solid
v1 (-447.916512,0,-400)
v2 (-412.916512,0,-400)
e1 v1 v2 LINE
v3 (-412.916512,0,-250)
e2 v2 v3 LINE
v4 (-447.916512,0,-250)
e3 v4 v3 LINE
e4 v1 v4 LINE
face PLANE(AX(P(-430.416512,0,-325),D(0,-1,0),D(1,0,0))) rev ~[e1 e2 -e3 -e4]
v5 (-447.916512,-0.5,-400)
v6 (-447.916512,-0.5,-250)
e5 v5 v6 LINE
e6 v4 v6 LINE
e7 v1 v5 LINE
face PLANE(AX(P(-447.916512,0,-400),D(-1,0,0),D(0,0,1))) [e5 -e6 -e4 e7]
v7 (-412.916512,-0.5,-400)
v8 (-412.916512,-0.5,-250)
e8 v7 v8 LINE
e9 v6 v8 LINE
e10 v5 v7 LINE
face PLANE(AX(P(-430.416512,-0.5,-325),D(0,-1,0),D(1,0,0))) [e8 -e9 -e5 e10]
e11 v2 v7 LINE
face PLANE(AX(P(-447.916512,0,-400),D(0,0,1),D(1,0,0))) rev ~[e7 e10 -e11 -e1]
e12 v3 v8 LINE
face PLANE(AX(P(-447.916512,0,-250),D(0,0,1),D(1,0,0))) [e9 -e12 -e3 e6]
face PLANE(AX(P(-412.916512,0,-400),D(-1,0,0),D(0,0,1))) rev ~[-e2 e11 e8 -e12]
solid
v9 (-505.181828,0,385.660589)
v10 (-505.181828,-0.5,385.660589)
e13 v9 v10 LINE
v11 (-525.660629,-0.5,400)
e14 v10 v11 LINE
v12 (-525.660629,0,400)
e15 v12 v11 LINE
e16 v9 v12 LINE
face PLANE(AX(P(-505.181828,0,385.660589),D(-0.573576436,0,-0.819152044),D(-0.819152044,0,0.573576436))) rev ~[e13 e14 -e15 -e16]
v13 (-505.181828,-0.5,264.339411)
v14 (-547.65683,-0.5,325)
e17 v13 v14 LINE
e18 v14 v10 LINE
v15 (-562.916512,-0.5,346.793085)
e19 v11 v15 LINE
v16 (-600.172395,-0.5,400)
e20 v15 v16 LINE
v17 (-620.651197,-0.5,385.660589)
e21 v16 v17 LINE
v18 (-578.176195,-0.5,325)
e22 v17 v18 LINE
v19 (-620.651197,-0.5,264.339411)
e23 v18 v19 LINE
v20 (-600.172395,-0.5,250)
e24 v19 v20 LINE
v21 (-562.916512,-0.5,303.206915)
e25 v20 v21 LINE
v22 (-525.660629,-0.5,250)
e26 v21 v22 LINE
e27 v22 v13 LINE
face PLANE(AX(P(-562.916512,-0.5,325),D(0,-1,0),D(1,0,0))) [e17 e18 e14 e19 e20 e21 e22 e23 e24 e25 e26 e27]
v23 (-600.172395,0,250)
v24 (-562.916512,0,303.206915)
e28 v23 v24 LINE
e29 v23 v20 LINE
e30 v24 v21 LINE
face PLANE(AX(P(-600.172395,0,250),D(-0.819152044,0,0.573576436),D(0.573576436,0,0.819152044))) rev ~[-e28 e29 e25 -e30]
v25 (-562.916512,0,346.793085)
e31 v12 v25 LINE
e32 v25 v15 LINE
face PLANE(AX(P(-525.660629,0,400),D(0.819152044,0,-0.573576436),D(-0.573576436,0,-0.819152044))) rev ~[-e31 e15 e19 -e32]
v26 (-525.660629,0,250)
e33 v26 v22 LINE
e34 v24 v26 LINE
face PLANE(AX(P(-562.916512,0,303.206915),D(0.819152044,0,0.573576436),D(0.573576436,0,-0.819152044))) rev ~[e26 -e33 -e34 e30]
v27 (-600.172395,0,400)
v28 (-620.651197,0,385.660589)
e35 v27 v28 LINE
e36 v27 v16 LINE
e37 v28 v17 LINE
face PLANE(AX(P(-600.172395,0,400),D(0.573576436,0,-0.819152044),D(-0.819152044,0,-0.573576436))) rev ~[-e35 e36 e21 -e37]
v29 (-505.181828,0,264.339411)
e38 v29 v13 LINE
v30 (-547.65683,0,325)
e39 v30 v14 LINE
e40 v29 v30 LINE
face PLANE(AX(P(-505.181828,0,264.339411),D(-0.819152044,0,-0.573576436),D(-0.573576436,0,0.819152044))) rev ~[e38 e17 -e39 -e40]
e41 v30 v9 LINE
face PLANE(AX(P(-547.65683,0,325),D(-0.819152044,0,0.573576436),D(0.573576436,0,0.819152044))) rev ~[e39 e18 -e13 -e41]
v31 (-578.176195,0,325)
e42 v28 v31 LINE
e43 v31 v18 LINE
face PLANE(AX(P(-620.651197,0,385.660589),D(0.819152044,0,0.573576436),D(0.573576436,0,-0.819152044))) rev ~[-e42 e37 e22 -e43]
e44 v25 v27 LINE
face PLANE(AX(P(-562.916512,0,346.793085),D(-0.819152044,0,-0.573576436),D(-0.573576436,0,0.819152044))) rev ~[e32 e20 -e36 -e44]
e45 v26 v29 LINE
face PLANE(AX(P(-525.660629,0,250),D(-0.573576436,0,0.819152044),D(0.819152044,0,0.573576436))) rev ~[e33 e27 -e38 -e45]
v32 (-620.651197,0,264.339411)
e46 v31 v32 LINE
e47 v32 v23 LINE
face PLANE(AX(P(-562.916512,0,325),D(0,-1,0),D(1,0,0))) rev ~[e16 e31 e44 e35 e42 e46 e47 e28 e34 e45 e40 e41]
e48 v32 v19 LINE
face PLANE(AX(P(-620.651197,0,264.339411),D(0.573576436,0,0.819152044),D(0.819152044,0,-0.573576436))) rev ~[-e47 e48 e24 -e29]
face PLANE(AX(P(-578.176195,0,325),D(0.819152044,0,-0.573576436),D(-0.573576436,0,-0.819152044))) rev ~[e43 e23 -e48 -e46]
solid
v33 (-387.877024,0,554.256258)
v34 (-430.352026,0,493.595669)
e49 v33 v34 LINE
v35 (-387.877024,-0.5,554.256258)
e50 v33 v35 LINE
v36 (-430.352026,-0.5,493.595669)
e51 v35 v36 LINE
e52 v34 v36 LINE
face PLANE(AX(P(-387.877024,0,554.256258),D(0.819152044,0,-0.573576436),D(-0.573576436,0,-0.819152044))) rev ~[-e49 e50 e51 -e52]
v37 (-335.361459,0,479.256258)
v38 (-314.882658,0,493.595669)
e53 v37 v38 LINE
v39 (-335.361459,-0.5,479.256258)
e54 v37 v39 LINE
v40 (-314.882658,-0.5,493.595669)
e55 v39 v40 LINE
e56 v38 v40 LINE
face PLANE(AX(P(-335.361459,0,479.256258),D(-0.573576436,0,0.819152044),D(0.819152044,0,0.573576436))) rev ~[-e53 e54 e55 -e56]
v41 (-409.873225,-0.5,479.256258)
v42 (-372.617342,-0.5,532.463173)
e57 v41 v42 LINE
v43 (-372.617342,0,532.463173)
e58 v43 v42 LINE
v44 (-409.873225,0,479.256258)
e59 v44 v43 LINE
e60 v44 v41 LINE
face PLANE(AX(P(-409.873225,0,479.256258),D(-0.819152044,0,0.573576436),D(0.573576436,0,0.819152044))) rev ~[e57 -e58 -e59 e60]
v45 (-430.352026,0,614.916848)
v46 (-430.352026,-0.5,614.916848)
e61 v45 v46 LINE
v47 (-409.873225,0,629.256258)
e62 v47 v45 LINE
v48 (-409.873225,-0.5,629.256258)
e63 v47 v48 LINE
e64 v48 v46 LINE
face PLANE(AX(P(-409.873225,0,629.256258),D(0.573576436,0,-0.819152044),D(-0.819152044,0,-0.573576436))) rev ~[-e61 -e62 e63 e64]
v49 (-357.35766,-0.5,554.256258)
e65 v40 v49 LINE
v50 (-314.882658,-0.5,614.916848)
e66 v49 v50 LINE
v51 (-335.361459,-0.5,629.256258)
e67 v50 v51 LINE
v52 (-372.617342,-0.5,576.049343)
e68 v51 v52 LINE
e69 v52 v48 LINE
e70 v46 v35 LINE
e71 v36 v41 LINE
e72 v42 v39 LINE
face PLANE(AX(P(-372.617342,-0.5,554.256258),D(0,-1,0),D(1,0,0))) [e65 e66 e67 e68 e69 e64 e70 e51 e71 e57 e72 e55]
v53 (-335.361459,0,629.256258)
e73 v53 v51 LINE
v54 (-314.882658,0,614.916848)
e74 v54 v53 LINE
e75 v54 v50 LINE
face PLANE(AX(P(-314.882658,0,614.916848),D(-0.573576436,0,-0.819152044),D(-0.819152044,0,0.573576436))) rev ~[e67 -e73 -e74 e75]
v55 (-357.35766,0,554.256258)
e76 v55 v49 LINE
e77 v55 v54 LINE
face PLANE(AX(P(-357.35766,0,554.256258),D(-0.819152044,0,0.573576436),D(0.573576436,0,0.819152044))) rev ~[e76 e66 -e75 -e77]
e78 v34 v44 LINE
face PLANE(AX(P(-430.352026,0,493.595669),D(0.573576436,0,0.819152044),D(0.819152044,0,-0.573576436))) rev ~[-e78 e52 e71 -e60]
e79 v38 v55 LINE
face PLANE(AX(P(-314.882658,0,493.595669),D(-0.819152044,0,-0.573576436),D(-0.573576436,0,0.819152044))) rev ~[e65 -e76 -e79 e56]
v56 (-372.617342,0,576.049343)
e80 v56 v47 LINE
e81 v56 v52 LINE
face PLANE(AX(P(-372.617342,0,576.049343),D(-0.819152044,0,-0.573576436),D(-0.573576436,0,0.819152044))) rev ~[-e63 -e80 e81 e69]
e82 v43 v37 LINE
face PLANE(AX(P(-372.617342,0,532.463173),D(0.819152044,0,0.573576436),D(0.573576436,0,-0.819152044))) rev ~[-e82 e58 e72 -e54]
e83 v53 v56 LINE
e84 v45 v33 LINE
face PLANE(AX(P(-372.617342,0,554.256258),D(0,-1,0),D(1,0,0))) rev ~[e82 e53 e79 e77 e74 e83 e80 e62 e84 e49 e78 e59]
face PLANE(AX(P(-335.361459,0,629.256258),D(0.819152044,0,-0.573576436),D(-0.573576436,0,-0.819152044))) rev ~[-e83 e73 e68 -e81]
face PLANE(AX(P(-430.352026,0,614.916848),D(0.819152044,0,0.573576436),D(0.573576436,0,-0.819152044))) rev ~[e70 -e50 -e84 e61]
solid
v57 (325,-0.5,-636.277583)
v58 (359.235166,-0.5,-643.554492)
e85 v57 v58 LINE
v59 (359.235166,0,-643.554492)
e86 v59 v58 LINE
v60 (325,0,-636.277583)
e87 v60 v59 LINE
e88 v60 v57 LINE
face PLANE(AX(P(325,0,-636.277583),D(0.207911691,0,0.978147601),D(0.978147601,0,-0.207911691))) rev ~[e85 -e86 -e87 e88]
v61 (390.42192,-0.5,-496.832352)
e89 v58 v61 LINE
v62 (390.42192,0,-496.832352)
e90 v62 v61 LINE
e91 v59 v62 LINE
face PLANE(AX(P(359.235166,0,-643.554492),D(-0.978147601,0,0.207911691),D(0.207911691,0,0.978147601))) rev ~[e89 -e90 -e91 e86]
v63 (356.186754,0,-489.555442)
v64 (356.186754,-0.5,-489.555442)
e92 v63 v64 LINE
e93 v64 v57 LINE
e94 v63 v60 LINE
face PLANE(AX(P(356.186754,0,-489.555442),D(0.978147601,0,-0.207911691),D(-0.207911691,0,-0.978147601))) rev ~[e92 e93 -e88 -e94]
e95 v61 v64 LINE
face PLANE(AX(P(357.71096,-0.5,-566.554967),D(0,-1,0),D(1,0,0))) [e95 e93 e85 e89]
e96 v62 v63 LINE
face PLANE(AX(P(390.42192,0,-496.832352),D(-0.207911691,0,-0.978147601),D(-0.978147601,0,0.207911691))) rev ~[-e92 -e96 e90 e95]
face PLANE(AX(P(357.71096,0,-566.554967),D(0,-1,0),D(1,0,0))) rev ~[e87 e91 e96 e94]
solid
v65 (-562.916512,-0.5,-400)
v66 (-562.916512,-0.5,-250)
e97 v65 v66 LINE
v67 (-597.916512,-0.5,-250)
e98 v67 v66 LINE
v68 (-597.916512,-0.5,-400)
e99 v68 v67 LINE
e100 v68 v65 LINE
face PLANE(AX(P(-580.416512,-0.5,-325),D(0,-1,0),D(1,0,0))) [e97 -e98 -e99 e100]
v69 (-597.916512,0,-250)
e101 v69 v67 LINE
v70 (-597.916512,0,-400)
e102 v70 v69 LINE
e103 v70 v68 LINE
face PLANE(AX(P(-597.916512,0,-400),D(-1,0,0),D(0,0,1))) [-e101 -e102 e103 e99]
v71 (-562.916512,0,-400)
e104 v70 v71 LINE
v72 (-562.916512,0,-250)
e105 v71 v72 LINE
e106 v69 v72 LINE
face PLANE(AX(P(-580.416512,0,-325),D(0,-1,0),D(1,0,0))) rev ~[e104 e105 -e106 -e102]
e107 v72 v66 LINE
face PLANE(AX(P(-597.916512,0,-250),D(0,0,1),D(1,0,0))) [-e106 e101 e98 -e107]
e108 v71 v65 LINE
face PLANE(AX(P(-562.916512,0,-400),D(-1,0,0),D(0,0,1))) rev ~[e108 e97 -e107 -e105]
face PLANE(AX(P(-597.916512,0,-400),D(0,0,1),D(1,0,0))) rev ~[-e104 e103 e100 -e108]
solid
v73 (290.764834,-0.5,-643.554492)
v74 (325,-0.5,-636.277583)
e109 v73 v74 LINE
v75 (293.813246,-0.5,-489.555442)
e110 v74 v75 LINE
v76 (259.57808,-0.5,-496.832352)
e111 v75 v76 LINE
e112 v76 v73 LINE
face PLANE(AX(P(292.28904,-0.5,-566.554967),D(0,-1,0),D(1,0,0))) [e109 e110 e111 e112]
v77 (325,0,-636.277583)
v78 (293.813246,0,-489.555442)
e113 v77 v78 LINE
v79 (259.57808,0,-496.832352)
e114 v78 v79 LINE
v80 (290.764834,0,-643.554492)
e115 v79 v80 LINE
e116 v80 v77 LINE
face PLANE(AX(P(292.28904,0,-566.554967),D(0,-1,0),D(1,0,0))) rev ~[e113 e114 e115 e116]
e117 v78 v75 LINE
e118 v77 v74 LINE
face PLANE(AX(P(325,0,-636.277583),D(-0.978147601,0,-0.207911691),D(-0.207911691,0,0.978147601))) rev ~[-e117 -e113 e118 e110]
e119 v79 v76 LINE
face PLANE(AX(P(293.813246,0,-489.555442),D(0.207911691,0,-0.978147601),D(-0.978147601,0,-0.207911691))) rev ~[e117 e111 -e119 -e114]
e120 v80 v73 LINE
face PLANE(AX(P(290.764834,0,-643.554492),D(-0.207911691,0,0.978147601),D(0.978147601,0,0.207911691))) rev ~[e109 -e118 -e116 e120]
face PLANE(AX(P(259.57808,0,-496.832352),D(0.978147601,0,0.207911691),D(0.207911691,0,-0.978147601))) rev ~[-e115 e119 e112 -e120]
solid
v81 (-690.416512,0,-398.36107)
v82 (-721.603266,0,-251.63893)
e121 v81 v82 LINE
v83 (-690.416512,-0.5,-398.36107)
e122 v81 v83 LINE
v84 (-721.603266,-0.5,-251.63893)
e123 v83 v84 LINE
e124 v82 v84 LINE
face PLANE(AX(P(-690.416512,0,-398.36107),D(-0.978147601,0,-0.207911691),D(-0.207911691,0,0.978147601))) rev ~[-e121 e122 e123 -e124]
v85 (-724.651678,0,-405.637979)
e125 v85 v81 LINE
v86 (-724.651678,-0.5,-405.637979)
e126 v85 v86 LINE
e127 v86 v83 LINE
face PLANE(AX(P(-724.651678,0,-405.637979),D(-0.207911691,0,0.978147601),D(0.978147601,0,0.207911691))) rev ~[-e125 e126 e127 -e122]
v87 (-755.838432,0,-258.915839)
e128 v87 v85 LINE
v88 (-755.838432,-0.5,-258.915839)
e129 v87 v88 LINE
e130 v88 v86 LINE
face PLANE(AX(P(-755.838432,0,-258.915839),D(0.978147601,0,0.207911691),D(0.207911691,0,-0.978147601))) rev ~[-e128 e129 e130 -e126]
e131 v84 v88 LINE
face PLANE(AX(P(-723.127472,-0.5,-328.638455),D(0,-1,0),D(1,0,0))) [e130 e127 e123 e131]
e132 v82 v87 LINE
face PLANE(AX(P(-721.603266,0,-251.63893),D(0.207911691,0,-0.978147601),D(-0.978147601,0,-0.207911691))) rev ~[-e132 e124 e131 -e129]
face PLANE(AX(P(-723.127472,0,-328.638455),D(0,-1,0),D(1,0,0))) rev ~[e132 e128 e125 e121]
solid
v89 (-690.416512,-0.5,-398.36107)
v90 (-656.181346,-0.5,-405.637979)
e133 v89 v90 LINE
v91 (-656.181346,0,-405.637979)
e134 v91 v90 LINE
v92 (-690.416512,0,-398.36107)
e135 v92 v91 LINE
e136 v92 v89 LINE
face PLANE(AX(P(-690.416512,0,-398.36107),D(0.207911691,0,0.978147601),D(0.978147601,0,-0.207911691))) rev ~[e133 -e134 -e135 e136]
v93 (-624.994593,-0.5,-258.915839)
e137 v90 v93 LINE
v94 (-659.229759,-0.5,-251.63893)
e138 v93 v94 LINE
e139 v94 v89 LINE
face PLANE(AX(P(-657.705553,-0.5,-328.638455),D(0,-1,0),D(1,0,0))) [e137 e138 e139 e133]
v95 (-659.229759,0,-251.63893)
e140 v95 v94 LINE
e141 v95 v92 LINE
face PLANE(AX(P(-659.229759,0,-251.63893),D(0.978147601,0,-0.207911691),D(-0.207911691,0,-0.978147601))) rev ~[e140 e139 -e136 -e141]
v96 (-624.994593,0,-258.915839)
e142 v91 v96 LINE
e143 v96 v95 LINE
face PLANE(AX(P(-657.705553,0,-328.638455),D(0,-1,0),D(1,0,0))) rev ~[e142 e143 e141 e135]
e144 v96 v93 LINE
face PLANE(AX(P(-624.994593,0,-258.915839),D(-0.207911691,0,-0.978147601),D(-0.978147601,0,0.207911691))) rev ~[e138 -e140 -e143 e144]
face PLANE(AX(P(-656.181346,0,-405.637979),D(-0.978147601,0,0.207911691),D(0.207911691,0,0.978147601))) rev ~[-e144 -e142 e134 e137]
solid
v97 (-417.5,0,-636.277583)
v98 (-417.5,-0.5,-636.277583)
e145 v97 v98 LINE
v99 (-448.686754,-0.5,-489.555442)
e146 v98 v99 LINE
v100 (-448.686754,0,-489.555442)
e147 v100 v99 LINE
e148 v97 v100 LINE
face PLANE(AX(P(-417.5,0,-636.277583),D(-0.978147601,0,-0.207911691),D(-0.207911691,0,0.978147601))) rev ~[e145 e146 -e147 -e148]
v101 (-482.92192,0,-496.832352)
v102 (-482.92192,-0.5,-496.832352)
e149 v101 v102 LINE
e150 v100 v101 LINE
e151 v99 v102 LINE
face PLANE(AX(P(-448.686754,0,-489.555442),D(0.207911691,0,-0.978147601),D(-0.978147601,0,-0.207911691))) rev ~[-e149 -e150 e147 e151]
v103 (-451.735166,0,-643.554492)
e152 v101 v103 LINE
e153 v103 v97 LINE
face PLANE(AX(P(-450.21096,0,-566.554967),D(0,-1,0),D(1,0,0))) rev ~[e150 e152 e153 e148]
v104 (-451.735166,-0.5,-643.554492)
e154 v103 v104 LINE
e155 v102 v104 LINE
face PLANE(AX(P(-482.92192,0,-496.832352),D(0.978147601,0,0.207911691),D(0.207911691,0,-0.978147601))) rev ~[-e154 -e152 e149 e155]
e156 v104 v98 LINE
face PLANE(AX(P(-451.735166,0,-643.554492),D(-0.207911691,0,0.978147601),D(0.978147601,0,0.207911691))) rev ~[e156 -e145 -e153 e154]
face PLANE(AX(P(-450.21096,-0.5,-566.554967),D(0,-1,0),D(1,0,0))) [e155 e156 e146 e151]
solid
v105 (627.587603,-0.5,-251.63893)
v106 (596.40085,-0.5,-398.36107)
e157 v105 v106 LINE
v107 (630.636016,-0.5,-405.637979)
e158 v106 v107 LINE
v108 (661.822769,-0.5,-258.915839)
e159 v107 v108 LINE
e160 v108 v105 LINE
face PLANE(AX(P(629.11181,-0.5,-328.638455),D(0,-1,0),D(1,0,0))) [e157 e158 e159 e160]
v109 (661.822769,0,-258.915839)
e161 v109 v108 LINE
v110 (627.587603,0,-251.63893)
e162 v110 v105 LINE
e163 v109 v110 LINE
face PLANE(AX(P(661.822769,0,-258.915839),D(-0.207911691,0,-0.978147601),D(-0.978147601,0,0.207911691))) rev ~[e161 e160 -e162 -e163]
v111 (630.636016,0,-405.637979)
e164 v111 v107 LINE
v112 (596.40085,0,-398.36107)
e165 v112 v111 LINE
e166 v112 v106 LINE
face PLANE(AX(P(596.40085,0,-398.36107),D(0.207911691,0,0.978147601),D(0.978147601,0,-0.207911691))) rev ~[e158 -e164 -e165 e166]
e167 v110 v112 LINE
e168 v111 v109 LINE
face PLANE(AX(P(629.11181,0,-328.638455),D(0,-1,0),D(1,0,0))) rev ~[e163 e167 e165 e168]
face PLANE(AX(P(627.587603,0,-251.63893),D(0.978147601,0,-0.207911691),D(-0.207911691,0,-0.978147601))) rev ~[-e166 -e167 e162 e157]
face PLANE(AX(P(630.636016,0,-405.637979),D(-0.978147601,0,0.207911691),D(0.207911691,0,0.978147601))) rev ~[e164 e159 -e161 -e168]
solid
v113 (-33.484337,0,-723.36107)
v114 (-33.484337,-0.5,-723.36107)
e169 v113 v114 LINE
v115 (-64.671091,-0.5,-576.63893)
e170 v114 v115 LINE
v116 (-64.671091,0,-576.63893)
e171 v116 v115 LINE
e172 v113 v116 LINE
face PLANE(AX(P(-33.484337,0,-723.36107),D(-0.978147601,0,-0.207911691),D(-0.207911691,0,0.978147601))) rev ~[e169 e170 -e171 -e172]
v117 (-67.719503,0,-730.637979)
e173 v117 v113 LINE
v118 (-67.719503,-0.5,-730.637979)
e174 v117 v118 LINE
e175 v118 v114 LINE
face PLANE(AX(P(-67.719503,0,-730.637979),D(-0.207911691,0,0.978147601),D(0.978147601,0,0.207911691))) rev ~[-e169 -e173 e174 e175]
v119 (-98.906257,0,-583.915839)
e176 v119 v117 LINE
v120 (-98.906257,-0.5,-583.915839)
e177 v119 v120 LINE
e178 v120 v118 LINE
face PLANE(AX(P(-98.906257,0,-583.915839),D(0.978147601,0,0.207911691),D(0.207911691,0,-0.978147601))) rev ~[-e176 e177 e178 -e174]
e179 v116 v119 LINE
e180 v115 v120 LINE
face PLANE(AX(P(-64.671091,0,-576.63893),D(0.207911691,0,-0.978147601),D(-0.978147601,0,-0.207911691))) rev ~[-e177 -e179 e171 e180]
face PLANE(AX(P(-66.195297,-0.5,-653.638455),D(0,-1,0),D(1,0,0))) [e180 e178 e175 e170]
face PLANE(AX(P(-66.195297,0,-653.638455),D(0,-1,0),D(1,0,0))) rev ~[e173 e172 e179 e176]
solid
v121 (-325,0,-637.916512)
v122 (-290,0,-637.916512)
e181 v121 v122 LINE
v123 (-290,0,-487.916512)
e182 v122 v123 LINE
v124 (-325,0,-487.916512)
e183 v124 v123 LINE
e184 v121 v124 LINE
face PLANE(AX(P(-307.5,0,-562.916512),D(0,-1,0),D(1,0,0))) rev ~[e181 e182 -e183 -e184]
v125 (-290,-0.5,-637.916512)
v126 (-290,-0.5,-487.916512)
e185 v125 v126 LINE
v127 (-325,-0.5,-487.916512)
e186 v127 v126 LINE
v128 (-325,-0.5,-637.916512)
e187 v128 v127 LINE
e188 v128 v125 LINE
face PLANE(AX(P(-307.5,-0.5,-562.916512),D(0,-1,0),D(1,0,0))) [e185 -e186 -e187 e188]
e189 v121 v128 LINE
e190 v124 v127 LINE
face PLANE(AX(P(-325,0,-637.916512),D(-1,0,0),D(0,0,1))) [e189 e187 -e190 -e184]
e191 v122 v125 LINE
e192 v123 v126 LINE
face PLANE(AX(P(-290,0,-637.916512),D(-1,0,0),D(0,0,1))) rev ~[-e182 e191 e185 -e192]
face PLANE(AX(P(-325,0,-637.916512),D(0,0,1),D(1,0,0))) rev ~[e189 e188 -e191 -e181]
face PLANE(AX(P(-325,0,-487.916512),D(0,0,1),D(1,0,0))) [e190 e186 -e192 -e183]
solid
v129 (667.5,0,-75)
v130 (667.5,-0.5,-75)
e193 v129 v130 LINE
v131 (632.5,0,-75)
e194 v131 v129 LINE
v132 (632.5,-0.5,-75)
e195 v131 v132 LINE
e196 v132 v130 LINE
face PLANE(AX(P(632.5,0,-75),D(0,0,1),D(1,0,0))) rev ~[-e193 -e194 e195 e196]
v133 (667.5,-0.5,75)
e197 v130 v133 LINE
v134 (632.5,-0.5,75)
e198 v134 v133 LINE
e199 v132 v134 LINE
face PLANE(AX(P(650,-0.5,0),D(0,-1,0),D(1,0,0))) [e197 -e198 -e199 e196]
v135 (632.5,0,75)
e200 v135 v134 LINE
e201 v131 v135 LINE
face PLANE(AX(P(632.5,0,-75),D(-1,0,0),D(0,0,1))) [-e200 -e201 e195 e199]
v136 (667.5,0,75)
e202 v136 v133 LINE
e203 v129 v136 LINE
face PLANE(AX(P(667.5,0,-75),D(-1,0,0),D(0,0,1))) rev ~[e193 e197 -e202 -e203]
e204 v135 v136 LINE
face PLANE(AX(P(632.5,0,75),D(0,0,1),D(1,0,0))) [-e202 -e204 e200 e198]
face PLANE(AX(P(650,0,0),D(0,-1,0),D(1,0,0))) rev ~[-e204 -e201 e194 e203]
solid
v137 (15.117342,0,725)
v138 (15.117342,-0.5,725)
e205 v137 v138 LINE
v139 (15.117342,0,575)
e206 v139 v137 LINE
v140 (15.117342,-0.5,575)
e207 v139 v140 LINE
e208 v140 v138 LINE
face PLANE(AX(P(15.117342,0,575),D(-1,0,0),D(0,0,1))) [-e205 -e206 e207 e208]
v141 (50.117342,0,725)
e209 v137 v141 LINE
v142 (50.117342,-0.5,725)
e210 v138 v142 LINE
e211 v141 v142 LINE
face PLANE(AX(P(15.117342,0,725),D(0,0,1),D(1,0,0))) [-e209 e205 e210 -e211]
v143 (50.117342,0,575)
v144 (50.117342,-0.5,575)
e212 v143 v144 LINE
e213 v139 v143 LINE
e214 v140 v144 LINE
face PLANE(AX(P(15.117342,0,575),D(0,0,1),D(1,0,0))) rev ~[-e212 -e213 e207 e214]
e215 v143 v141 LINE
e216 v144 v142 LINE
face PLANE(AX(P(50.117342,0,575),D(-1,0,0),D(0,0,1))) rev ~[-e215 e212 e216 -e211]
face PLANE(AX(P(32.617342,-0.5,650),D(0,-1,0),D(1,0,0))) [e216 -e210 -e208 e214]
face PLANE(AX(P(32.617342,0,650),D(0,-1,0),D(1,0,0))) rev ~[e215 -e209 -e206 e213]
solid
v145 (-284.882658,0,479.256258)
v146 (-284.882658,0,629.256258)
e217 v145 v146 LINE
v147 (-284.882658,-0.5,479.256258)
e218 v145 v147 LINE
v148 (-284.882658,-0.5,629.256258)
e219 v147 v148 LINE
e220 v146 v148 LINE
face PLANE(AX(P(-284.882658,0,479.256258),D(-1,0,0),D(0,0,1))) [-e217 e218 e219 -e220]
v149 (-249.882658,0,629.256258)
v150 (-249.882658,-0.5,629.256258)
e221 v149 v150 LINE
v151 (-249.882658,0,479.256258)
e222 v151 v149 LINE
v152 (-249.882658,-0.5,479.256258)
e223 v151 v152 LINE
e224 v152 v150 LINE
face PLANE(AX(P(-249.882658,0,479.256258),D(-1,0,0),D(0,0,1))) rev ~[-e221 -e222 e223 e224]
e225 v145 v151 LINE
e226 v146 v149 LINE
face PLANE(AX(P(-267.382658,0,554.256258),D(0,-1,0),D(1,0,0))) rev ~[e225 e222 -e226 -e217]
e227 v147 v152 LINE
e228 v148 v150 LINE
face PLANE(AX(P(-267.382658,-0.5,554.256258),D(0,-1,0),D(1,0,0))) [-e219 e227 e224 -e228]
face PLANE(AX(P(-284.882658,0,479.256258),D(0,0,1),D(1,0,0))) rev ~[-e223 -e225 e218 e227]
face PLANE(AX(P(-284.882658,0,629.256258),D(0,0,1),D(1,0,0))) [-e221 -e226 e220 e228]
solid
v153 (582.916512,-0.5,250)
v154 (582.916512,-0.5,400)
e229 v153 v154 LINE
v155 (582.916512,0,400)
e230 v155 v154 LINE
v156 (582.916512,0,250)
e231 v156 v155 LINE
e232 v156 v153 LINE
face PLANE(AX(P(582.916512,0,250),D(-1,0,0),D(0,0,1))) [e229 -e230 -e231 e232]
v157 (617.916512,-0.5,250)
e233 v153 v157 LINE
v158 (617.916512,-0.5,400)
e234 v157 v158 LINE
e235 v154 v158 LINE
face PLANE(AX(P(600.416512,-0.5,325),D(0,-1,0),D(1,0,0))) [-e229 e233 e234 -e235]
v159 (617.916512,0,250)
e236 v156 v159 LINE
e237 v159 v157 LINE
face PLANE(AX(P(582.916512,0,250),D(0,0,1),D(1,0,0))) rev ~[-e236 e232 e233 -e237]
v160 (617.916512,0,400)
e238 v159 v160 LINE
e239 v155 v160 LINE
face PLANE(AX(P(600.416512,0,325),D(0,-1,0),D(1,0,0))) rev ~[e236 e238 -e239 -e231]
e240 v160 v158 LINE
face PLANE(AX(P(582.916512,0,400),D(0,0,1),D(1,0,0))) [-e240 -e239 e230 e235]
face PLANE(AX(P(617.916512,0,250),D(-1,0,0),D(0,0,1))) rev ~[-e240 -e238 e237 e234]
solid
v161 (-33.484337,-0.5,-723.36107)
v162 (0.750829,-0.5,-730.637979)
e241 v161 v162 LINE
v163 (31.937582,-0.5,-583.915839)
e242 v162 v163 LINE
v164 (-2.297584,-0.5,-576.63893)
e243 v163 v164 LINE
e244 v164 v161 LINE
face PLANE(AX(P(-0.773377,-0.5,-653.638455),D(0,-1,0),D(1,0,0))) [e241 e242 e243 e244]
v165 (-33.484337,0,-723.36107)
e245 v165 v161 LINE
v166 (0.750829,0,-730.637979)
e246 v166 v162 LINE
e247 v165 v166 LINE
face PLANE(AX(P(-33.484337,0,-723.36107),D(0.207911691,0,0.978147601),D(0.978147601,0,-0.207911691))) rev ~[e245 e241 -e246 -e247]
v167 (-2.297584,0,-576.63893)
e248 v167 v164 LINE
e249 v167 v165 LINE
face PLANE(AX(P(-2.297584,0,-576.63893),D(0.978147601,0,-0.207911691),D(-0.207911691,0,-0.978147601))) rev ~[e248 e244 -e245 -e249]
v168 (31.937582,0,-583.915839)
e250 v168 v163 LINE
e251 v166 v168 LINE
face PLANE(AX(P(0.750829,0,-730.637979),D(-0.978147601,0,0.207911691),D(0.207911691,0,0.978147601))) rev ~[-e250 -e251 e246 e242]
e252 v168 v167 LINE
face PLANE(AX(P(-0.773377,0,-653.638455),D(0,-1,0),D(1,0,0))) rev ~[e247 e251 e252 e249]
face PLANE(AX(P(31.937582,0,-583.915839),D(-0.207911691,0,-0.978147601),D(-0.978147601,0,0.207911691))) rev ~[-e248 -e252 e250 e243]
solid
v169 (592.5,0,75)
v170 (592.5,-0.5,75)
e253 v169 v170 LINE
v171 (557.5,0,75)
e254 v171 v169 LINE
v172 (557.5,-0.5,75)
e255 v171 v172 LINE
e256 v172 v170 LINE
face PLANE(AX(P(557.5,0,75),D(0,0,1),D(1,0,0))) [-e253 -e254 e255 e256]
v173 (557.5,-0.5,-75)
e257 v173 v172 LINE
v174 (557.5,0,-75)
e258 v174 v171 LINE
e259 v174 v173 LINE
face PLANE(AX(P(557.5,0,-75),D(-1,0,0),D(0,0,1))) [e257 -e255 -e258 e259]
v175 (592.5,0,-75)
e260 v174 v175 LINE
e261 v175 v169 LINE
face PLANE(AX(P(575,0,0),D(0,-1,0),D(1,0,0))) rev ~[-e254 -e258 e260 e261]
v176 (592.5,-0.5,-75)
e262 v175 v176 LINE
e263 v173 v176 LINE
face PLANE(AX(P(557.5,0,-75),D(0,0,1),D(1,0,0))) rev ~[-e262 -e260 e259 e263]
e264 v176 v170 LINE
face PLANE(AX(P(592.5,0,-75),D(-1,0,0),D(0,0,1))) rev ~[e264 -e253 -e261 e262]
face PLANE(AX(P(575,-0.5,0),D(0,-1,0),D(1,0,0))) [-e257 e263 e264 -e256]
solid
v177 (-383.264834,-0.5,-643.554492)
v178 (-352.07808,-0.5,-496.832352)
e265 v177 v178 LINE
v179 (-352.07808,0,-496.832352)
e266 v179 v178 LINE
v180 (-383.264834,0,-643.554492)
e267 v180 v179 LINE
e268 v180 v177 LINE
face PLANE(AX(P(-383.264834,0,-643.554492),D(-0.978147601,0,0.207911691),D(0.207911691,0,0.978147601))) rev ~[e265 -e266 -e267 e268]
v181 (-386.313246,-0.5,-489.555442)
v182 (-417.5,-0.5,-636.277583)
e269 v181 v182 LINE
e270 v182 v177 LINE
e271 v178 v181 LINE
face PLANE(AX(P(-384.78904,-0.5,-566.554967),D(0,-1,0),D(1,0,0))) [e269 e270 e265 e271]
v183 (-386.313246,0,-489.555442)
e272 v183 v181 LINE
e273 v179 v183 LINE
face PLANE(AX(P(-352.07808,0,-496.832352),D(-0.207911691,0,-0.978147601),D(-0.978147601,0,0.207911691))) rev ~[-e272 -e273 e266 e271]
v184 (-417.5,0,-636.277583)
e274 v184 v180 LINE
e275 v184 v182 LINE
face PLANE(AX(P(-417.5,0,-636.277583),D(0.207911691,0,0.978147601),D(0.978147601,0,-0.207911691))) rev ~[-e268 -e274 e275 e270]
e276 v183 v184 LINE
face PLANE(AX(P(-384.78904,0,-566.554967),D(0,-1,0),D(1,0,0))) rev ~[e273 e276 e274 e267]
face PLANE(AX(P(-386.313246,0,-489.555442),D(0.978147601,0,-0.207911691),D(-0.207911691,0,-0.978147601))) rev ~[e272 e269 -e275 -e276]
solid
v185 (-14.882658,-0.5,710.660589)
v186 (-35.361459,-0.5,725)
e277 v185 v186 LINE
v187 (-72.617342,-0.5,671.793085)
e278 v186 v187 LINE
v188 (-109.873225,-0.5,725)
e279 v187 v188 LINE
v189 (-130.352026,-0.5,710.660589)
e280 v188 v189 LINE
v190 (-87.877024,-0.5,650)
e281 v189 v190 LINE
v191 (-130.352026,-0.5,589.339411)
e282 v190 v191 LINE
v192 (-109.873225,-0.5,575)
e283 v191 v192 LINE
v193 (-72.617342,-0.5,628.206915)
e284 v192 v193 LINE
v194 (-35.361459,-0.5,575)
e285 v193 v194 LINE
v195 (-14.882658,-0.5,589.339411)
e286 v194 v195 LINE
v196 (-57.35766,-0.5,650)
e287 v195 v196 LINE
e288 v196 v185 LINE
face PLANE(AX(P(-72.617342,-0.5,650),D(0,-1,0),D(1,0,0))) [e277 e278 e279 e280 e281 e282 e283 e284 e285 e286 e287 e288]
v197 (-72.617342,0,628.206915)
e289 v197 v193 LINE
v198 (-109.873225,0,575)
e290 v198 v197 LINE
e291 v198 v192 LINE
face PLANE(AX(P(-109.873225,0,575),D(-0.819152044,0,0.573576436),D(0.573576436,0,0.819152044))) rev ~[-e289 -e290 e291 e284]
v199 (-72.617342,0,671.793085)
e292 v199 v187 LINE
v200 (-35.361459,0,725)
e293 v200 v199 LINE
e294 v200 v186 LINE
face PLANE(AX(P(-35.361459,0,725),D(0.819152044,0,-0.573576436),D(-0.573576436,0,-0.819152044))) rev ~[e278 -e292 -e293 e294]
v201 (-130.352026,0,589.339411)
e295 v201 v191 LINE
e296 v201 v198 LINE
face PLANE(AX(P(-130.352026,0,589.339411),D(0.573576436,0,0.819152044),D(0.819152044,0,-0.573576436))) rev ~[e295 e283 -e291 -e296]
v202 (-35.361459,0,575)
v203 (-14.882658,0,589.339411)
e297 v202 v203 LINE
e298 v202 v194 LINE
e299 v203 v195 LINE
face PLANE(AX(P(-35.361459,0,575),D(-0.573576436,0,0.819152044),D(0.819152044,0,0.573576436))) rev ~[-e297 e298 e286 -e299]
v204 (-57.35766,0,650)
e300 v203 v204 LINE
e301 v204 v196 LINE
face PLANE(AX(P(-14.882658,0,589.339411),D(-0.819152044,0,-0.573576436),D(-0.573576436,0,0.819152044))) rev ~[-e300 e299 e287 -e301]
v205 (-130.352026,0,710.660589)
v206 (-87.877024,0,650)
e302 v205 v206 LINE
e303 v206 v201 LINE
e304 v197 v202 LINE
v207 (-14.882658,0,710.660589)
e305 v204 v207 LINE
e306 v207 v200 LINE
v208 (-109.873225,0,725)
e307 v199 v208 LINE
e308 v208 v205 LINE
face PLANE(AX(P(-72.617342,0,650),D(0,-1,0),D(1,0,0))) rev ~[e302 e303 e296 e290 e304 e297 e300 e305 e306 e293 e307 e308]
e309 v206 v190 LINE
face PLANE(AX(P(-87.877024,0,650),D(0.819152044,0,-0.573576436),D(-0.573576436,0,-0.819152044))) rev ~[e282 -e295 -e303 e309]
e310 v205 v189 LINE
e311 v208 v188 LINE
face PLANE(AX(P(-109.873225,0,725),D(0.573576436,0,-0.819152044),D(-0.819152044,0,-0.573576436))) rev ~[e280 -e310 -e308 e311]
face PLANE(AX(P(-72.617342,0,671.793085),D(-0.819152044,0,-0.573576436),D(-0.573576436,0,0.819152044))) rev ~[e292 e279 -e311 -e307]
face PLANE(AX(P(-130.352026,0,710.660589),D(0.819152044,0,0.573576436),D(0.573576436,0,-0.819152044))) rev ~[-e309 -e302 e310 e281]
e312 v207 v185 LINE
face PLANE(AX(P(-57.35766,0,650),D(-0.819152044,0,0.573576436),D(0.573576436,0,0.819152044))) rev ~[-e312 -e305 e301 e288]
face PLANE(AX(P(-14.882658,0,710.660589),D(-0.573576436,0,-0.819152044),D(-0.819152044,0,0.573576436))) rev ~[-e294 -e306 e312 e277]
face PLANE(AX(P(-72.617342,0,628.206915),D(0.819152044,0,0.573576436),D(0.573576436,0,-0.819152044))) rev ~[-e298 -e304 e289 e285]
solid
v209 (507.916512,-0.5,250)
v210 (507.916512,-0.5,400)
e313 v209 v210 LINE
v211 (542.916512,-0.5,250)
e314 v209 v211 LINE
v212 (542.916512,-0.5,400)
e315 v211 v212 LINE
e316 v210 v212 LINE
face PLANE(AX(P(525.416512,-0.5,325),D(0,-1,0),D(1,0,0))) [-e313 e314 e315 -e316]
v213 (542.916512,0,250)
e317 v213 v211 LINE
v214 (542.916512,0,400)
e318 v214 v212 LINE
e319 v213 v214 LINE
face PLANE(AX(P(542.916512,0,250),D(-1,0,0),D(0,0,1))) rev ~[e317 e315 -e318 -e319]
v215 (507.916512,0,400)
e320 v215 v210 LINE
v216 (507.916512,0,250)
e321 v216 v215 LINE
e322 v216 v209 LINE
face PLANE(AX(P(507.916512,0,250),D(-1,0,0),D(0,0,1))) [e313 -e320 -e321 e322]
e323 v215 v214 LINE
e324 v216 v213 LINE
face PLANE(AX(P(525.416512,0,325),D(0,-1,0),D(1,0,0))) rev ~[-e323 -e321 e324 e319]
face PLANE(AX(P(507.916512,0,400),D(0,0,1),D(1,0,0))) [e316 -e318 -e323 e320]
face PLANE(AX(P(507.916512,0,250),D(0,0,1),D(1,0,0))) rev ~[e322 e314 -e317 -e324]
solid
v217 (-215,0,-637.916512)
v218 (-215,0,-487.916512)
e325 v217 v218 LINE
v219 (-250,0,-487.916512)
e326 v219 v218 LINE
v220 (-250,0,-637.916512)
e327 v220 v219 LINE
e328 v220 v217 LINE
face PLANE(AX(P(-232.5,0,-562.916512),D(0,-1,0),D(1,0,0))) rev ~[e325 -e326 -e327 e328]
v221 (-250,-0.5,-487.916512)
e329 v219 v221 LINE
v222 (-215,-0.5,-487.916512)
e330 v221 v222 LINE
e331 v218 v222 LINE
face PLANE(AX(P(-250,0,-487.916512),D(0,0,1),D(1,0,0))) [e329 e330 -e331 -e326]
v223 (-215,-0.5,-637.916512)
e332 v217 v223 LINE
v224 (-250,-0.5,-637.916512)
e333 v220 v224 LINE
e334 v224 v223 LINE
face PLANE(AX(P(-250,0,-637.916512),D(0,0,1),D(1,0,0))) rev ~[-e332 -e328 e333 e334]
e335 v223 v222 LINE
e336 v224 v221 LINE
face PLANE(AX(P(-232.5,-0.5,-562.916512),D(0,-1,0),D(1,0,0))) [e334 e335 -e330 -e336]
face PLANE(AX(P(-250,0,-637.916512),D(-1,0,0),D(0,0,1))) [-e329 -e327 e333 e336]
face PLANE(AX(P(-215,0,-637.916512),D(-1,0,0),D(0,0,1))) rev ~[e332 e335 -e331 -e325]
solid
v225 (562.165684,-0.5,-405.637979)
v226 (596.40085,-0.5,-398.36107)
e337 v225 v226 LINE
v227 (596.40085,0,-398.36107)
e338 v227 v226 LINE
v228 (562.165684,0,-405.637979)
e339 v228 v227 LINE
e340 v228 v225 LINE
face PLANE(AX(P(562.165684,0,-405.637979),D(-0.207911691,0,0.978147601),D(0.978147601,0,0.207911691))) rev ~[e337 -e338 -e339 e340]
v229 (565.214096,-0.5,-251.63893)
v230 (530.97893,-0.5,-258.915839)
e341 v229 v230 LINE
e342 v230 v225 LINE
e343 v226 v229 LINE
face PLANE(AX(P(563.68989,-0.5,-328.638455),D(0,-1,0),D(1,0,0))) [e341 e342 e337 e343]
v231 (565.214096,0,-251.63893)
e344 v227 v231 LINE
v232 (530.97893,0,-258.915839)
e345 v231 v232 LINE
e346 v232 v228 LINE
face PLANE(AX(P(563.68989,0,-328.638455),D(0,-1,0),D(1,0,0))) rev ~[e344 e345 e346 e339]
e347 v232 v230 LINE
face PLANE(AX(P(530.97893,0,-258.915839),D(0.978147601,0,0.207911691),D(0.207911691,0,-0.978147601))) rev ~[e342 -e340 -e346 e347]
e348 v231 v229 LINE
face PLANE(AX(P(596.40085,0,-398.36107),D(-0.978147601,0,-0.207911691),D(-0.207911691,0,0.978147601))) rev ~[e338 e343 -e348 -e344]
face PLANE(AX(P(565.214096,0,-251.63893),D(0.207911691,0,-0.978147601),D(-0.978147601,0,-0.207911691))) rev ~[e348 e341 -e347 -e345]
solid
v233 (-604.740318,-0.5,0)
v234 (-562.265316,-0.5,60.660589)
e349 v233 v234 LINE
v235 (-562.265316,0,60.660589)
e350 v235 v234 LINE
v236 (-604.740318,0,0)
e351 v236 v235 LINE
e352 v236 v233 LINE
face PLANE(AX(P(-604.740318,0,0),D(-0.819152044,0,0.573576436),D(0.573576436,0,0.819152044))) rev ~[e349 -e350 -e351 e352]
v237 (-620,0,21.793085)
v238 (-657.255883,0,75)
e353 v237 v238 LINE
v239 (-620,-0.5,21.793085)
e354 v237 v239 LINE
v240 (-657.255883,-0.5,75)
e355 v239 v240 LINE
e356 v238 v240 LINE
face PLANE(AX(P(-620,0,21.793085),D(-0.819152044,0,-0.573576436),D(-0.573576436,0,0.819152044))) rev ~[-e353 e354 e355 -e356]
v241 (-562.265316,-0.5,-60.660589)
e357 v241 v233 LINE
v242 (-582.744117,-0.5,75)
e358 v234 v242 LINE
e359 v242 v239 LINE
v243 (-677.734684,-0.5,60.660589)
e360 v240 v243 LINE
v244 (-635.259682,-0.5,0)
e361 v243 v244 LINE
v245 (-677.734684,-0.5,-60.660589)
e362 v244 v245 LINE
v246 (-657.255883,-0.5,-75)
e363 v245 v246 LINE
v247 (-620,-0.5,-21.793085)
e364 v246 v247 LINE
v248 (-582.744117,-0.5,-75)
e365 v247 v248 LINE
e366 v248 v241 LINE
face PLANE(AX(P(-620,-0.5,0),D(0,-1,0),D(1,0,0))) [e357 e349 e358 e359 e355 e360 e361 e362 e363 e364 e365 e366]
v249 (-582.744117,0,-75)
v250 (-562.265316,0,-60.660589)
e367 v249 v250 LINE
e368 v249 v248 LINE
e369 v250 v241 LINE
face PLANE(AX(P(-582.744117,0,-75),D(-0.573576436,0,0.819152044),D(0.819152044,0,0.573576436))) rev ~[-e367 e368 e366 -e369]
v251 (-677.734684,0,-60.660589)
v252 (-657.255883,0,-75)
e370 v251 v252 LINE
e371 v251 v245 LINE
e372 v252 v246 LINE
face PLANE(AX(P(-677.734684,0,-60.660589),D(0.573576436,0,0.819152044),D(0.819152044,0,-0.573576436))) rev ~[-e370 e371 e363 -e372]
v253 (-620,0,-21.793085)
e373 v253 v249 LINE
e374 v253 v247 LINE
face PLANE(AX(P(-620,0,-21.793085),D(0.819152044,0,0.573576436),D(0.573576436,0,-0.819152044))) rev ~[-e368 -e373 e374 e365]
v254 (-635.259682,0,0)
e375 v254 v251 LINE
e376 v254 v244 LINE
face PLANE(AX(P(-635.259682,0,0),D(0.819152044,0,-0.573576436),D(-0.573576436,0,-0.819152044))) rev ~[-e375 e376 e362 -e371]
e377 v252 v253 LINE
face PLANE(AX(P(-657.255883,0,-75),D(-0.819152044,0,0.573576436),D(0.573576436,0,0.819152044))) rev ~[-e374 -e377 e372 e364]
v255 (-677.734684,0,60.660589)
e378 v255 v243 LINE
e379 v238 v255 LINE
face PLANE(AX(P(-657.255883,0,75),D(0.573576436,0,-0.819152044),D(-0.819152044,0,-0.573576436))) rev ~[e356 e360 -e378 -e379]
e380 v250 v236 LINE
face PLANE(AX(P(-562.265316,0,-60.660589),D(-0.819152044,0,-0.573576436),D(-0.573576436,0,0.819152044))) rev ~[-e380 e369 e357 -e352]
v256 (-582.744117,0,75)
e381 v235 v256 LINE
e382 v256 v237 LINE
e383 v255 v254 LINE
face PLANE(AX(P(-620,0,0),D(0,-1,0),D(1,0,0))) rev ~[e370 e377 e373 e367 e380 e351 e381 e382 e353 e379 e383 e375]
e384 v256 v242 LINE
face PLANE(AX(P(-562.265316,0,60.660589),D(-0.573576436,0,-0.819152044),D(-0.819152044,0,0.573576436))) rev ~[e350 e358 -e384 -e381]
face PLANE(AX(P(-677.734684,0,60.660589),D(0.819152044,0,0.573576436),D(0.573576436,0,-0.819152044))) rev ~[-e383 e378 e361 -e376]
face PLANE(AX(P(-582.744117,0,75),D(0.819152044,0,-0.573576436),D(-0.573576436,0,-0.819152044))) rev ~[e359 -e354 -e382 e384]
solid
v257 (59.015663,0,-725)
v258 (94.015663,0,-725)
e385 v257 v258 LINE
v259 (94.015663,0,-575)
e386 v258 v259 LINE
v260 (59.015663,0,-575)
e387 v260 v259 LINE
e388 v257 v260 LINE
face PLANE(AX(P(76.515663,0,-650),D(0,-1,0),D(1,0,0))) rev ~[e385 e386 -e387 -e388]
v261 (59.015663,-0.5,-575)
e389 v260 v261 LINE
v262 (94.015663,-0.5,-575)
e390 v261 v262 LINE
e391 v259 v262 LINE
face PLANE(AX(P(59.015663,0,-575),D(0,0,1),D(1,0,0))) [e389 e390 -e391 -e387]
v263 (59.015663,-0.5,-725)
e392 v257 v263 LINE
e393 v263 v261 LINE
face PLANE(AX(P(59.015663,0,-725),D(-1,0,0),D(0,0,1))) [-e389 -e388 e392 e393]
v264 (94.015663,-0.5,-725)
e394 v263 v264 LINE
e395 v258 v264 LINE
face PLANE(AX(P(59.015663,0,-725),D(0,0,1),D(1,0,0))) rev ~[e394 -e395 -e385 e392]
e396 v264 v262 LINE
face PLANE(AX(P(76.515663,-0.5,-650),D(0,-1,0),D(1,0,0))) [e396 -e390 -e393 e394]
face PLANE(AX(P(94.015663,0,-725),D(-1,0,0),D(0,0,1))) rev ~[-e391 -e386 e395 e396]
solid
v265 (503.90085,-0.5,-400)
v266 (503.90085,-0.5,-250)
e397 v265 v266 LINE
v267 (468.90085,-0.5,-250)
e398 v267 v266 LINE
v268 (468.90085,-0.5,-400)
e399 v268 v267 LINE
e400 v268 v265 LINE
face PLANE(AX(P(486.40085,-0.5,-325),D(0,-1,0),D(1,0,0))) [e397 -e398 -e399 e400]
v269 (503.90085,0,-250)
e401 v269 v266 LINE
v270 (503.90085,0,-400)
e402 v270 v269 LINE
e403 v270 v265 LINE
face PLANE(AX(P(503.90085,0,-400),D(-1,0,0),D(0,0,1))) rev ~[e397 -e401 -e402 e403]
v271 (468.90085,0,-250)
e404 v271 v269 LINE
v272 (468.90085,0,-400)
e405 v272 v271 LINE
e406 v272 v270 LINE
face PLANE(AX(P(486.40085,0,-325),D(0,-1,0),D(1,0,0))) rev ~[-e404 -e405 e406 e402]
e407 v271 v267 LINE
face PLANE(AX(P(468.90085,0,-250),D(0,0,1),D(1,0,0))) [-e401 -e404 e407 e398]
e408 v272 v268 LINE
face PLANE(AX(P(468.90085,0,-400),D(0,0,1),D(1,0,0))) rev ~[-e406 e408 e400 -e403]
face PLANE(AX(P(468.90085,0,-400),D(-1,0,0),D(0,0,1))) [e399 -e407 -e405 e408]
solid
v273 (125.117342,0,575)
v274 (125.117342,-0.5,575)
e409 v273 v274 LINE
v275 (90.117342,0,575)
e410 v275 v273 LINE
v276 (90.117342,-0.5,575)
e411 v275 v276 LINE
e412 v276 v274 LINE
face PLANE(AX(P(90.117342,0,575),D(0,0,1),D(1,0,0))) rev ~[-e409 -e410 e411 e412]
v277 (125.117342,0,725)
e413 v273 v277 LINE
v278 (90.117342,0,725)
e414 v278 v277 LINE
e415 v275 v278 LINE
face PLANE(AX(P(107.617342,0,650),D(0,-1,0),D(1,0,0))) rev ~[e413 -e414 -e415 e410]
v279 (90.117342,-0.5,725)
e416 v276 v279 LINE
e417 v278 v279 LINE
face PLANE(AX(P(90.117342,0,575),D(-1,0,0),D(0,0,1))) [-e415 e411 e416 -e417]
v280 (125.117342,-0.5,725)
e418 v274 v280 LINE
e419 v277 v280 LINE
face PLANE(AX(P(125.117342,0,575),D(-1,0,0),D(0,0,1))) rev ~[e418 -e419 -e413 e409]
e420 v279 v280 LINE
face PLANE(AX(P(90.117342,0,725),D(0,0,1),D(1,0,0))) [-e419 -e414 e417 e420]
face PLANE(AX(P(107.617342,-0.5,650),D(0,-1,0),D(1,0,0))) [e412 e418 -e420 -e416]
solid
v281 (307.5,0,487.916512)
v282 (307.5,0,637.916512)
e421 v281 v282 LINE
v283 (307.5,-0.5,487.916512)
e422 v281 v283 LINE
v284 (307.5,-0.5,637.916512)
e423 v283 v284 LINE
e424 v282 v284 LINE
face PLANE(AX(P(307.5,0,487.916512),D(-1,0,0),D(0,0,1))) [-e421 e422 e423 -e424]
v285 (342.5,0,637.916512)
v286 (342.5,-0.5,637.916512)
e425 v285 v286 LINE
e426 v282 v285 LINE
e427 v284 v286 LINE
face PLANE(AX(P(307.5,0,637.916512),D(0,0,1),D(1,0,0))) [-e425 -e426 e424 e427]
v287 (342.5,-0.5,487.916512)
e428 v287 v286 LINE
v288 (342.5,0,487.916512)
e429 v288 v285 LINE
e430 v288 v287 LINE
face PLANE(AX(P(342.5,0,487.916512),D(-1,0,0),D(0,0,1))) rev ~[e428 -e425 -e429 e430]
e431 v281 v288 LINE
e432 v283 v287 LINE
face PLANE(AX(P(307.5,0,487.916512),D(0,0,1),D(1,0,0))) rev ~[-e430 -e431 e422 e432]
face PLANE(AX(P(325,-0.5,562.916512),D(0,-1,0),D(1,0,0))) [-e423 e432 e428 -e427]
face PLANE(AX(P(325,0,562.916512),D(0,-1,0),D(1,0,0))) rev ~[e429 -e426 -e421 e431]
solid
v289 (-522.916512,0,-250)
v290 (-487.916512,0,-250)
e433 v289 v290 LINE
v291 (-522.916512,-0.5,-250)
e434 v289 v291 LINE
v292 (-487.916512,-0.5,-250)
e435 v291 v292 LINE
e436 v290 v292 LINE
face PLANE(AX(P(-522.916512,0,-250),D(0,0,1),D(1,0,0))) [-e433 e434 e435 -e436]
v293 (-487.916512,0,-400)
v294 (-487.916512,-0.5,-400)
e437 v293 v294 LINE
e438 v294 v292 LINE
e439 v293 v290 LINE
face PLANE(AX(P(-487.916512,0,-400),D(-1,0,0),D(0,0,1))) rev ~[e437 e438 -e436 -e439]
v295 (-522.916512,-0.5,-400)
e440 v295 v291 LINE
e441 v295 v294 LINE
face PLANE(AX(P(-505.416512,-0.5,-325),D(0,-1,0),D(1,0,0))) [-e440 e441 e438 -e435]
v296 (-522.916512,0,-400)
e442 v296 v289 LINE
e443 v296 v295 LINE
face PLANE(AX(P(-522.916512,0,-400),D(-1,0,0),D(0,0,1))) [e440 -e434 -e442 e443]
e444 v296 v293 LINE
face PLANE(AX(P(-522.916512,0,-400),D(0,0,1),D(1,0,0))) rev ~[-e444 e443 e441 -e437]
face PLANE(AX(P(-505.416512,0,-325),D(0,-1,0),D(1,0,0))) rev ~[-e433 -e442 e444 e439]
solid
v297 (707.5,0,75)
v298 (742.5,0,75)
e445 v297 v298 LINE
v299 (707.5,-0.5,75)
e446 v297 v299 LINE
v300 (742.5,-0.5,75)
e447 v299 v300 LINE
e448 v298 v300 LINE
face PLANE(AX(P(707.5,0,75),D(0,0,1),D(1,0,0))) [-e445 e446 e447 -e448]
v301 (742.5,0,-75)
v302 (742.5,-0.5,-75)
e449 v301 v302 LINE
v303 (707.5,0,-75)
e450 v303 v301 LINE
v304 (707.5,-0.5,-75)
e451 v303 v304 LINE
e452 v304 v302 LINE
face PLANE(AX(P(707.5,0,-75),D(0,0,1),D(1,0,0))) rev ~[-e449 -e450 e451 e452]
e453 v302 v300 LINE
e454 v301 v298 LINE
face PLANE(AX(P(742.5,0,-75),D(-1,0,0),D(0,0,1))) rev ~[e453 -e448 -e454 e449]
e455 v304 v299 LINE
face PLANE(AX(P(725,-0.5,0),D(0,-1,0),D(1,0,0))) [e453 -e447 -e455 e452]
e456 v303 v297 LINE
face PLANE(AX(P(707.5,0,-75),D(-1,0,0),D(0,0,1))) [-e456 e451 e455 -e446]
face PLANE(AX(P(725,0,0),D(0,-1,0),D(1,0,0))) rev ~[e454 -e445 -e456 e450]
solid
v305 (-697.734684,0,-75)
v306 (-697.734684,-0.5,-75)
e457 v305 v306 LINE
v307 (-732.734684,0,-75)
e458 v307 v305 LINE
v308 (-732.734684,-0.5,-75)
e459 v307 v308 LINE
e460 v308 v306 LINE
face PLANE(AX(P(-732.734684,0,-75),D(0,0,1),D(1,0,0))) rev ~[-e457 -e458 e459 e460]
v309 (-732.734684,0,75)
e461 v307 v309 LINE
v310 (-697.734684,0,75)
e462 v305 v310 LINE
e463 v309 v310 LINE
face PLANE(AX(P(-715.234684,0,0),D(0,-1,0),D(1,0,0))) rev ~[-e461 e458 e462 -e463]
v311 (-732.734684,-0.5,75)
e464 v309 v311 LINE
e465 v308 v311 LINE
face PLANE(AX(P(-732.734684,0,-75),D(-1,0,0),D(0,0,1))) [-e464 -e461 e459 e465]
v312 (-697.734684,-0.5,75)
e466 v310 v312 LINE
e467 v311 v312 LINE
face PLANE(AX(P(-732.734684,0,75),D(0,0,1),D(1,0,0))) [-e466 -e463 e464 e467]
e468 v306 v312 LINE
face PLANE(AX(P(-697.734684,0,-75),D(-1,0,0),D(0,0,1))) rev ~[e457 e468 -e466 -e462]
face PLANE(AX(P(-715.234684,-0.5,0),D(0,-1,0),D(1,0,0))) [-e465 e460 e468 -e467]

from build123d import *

# Parameters (mm, degrees)
F1_W      = 35
F1_H      = 150
F13_DEPTH = 0.5
F2_W      = 35
F2_H      = 150
F3_W      = 35
F3_H      = 150
F4_W      = 35
F4_H      = 150
F6_W      = 35
F6_H      = 150
F7_W      = 35
F7_H      = 150
F8_W      = 35
F8_H      = 150
F9_W      = 35
F9_H      = 150
F11_W     = 35
F11_H     = 150
F12_W     = 35
F12_H     = 150


with BuildPart() as f13:
    # F1 (on Front) → F13 (new body)
    with BuildSketch(Plane.XZ):
        with Locations((325, 562.9165124599)):
            Rectangle(F1_W, F1_H)
    extrude(amount=F13_DEPTH)


with BuildPart() as f13b:
    # F2 (on Front) → F13, piece 2 (new body)
    with BuildSketch(Plane.XZ):
        with Locations((525.4165124599, 325)):
            Rectangle(F2_W, F2_H)
    extrude(amount=F13_DEPTH)


with BuildPart() as f13c:
    # F2 (on Front) → F13, piece 3 (new body)
    with BuildSketch(Plane.XZ):
        with Locations((600.4165124599, 325)):
            Rectangle(F2_W, F2_H)
    extrude(amount=F13_DEPTH)


with BuildPart() as f13d:
    # F3 (on Front) → F13, piece 4 (new body)
    with BuildSketch(Plane.XZ):
        with Locations((575, 0)):
            Rectangle(F3_W, F3_H)
    extrude(amount=F13_DEPTH)


with BuildPart() as f13e:
    # F3 (on Front) → F13, piece 5 (new body)
    with BuildSketch(Plane.XZ):
        with Locations((650, 0)):
            Rectangle(F3_W, F3_H)
    extrude(amount=F13_DEPTH)


with BuildPart() as f13f:
    # F3 (on Front) → F13, piece 6 (new body)
    with BuildSketch(Plane.XZ):
        with Locations((725, 0)):
            Rectangle(F3_W, F3_H)
    extrude(amount=F13_DEPTH)


with BuildPart() as f13g:
    # F4 (on Front) → F13, piece 7 (new body)
    with BuildSketch(Plane.XZ):
        with Locations((486.4008496814, -325)):
            Rectangle(F4_W, F4_H)
    extrude(amount=F13_DEPTH)


with BuildPart() as f13h:
    # F4 (on Front) → F13, piece 8 (new body)
    with BuildSketch(Plane.XZ):
        Polygon((627.587603304, -251.638929945), (596.4008496814, -398.361070055), (630.636015707, -405.6379792337), (661.8227693297, -258.9158391236), align=None)
    extrude(amount=F13_DEPTH)


with BuildPart() as f13i:
    # F4 (on Front) → F13, piece 9 (new body)
    with BuildSketch(Plane.XZ):
        Polygon((565.2140960587, -251.638929945), (530.978930033, -258.9158391236), (562.1656836557, -405.6379792337), (596.4008496814, -398.361070055), align=None)
    extrude(amount=F13_DEPTH)


with BuildPart() as f13j:
    # F5 (on Front) → F13, piece 10 (new body)
    with BuildSketch(Plane.XZ):
        Polygon((356.1867536227, -489.5554424048), (325, -636.2775825149), (359.2351660257, -643.5544916935), (390.4219196483, -496.8323515835), align=None)
    extrude(amount=F13_DEPTH)


with BuildPart() as f13k:
    # F5 (on Front) → F13, piece 11 (new body)
    with BuildSketch(Plane.XZ):
        Polygon((293.8132463773, -489.5554424049), (259.5780803517, -496.8323515835), (290.7648339743, -643.5544916935), (325, -636.2775825149), align=None)
    extrude(amount=F13_DEPTH)


with BuildPart() as f13l:
    # F6 (on Front) → F13, piece 12 (new body)
    with BuildSketch(Plane.XZ):
        with Locations((76.5156627785, -650)):
            Rectangle(F6_W, F6_H)
    extrude(amount=F13_DEPTH)


with BuildPart() as f13m:
    # F6 (on Front) → F13, piece 13 (new body)
    with BuildSketch(Plane.XZ):
        Polygon((-2.2975835988, -576.638929945), (-33.4843372215, -723.361070055), (0.7508288042, -730.6379792337), (31.9375824269, -583.9158391236), align=None)
    extrude(amount=F13_DEPTH)


with BuildPart() as f13n:
    # F6 (on Front) → F13, piece 14 (new body)
    with BuildSketch(Plane.XZ):
        Polygon((-64.6710908441, -576.638929945), (-98.9062568698, -583.9158391236), (-67.7195032472, -730.6379792337), (-33.4843372215, -723.361070055), align=None)
    extrude(amount=F13_DEPTH)


with BuildPart() as f13o:
    # F7 (on Front) → F13, piece 15 (new body)
    with BuildSketch(Plane.XZ):
        with Locations((-307.5, -562.9165124599)):
            Rectangle(F7_W, F7_H)
    extrude(amount=F13_DEPTH)


with BuildPart() as f13p:
    # F7 (on Front) → F13, piece 16 (new body)
    with BuildSketch(Plane.XZ):
        Polygon((-386.3132463773, -489.5554424049), (-417.5, -636.2775825149), (-383.2648339743, -643.5544916935), (-352.0780803517, -496.8323515835), align=None)
    extrude(amount=F13_DEPTH)


with BuildPart() as f13q:
    # F7 (on Front) → F13, piece 17 (new body)
    with BuildSketch(Plane.XZ):
        Polygon((-448.6867536227, -489.5554424049), (-482.9219196483, -496.8323515835), (-451.7351660257, -643.5544916935), (-417.5, -636.2775825149), align=None)
    extrude(amount=F13_DEPTH)


with BuildPart() as f13r:
    # F7 (on Front) → F13, piece 18 (new body)
    with BuildSketch(Plane.XZ):
        with Locations((-232.5, -562.9165124599)):
            Rectangle(F7_W, F7_H)
    extrude(amount=F13_DEPTH)


with BuildPart() as f13s:
    # F8 (on Front) → F13, piece 19 (new body)
    with BuildSketch(Plane.XZ):
        with Locations((-580.4165124599, -325)):
            Rectangle(F8_W, F8_H)
    extrude(amount=F13_DEPTH)


with BuildPart() as f13t:
    # F8 (on Front) → F13, piece 20 (new body)
    with BuildSketch(Plane.XZ):
        Polygon((-659.2297588372, -251.638929945), (-690.4165124599, -398.361070055), (-656.1813464342, -405.6379792337), (-624.9945928115, -258.9158391236), align=None)
    extrude(amount=F13_DEPTH)


with BuildPart() as f13u:
    # F8 (on Front) → F13, piece 21 (new body)
    with BuildSketch(Plane.XZ):
        Polygon((-721.6032660825, -251.638929945), (-755.8384321082, -258.9158391236), (-724.6516784856, -405.6379792337), (-690.4165124599, -398.361070055), align=None)
    extrude(amount=F13_DEPTH)


with BuildPart() as f13v:
    # F8 (on Front) → F13, piece 22 (new body)
    with BuildSketch(Plane.XZ):
        with Locations((-505.4165124599, -325)):
            Rectangle(F8_W, F8_H)
    extrude(amount=F13_DEPTH)


with BuildPart() as f13w:
    # F8 (on Front) → F13, piece 23 (new body)
    with BuildSketch(Plane.XZ):
        with Locations((-430.4165124599, -325)):
            Rectangle(F8_W, F8_H)
    extrude(amount=F13_DEPTH)


with BuildPart() as f13x:
    # F9 (on Front) → F13, piece 24 (new body)
    with BuildSketch(Plane.XZ):
        Polygon((-657.2558830062, 75), (-677.7346841134, 60.6605890912), (-635.2596823595, 0), (-631.8485692054, 4.8715744519), (-611.3697680981, -9.4678364569), (-620, -21.7930849453), (-582.7441169938, -75), (-562.2653158866, -60.6605890912), (-604.7403176405, 0), (-608.1514307946, -4.8715744519), (-628.6302319019, 9.4678364569), (-620, 21.7930849453), align=None)
        Polygon((-631.8485692054, 4.8715744519), (-635.2596823595, 0), (-620, -21.7930849453), (-611.3697680981, -9.4678364569), align=None)
        Polygon((-620, -21.7930849453), (-635.2596823595, 0), (-677.7346841134, -60.6605890912), (-657.2558830062, -75), align=None)
        Polygon((-582.7441169938, 75), (-620, 21.7930849453), (-604.7403176405, 0), (-562.2653158866, 60.6605890912), align=None)
        Polygon((-604.7403176405, 0), (-620, 21.7930849453), (-628.6302319019, 9.4678364569), (-608.1514307946, -4.8715744519), align=None)
    extrude(amount=F13_DEPTH)


with BuildPart() as f13y:
    # F9 (on Front) → F13, piece 25 (new body)
    with BuildSketch(Plane.XZ):
        with Locations((-715.2346841134, 0)):
            Rectangle(F9_W, F9_H)
    extrude(amount=F13_DEPTH)


with BuildPart() as f13z:
    # F10 (on Front) → F13, piece 26 (new body)
    with BuildSketch(Plane.XZ):
        Polygon((-600.1723954661, 400), (-620.6511965733, 385.6605890912), (-578.1761948194, 325), (-574.7650816652, 329.8715744519), (-554.286280558, 315.5321635431), (-562.9165124599, 303.2069150547), (-525.6606294537, 250), (-505.1818283465, 264.3394109088), (-547.6568301004, 325), (-551.0679432545, 320.1284255481), (-571.5467443618, 334.4678364569), (-562.9165124599, 346.7930849453), align=None)
        Polygon((-574.7650816652, 329.8715744519), (-578.1761948194, 325), (-562.9165124599, 303.2069150547), (-554.286280558, 315.5321635431), align=None)
        Polygon((-562.9165124599, 303.2069150547), (-578.1761948194, 325), (-620.6511965733, 264.3394109088), (-600.1723954661, 250), align=None)
        Polygon((-525.6606294537, 400), (-562.9165124599, 346.7930849453), (-547.6568301004, 325), (-505.1818283465, 385.6605890912), align=None)
        Polygon((-547.6568301004, 325), (-562.9165124599, 346.7930849453), (-571.5467443618, 334.4678364569), (-551.0679432545, 320.1284255481), align=None)
    extrude(amount=F13_DEPTH)


with BuildPart() as f13ba:
    # F11 (on Front) → F13, piece 27 (new body)
    with BuildSketch(Plane.XZ):
        Polygon((-409.8732250629, 629.256258422), (-430.3520261702, 614.9168475133), (-387.8770244162, 554.256258422), (-384.4659112621, 559.1278328739), (-363.9871101548, 544.7884219652), (-372.6173420567, 532.4631734768), (-335.3614590505, 479.256258422), (-314.8826579433, 493.5956693308), (-357.3576596972, 554.256258422), (-360.7687728514, 549.3846839701), (-381.2475739586, 563.7240948789), (-372.6173420567, 576.0493433673), align=None)
        Polygon((-384.4659112621, 559.1278328739), (-387.8770244162, 554.256258422), (-372.6173420567, 532.4631734768), (-363.9871101548, 544.7884219652), align=None)
        Polygon((-372.6173420567, 532.4631734768), (-387.8770244162, 554.256258422), (-430.3520261702, 493.5956693308), (-409.8732250629, 479.256258422), align=None)
        Polygon((-335.3614590505, 629.256258422), (-372.6173420567, 576.0493433673), (-357.3576596972, 554.256258422), (-314.8826579433, 614.9168475133), align=None)
        Polygon((-357.3576596972, 554.256258422), (-372.6173420567, 576.0493433673), (-381.2475739586, 563.7240948789), (-360.7687728514, 549.3846839701), align=None)
    extrude(amount=F13_DEPTH)


with BuildPart() as f13bb:
    # F11 (on Front) → F13, piece 28 (new body)
    with BuildSketch(Plane.XZ):
        with Locations((-267.3826579433, 554.256258422)):
            Rectangle(F11_W, F11_H)
    extrude(amount=F13_DEPTH)


with BuildPart() as f13bc:
    # F12 (on Front) → F13, piece 29 (new body)
    with BuildSketch(Plane.XZ):
        Polygon((-109.8732250629, 725), (-130.3520261702, 710.6605890912), (-87.8770244162, 650), (-84.4659112621, 654.8715744519), (-63.9871101548, 640.5321635431), (-72.6173420567, 628.2069150547), (-35.3614590505, 575), (-14.8826579433, 589.3394109088), (-57.3576596972, 650), (-60.7687728514, 645.1284255481), (-81.2475739586, 659.4678364569), (-72.6173420567, 671.7930849453), align=None)
        Polygon((-84.4659112621, 654.8715744519), (-87.8770244162, 650), (-72.6173420567, 628.2069150547), (-63.9871101548, 640.5321635431), align=None)
        Polygon((-72.6173420567, 628.2069150547), (-87.8770244162, 650), (-130.3520261702, 589.3394109088), (-109.8732250629, 575), align=None)
        Polygon((-35.3614590505, 725), (-72.6173420567, 671.7930849453), (-57.3576596972, 650), (-14.8826579433, 710.6605890912), align=None)
        Polygon((-57.3576596972, 650), (-72.6173420567, 671.7930849453), (-81.2475739586, 659.4678364569), (-60.7687728514, 645.1284255481), align=None)
    extrude(amount=F13_DEPTH)


with BuildPart() as f13bd:
    # F12 (on Front) → F13, piece 30 (new body)
    with BuildSketch(Plane.XZ):
        with Locations((32.6173420567, 650)):
            Rectangle(F12_W, F12_H)
    extrude(amount=F13_DEPTH)


with BuildPart() as f13be:
    # F12 (on Front) → F13, piece 31 (new body)
    with BuildSketch(Plane.XZ):
        with Locations((107.6173420567, 650)):
            Rectangle(F12_W, F12_H)
    extrude(amount=F13_DEPTH)


solid = Compound([f13.part, f13b.part, f13c.part, f13d.part, f13e.part, f13f.part, f13g.part, f13h.part, f13i.part, f13j.part, f13k.part, f13l.part, f13m.part, f13n.part, f13o.part, f13p.part, f13q.part, f13r.part, f13s.part, f13t.part, f13u.part, f13v.part, f13w.part, f13x.part, f13y.part, f13z.part, f13ba.part, f13bb.part, f13bc.part, f13bd.part, f13be.part])
